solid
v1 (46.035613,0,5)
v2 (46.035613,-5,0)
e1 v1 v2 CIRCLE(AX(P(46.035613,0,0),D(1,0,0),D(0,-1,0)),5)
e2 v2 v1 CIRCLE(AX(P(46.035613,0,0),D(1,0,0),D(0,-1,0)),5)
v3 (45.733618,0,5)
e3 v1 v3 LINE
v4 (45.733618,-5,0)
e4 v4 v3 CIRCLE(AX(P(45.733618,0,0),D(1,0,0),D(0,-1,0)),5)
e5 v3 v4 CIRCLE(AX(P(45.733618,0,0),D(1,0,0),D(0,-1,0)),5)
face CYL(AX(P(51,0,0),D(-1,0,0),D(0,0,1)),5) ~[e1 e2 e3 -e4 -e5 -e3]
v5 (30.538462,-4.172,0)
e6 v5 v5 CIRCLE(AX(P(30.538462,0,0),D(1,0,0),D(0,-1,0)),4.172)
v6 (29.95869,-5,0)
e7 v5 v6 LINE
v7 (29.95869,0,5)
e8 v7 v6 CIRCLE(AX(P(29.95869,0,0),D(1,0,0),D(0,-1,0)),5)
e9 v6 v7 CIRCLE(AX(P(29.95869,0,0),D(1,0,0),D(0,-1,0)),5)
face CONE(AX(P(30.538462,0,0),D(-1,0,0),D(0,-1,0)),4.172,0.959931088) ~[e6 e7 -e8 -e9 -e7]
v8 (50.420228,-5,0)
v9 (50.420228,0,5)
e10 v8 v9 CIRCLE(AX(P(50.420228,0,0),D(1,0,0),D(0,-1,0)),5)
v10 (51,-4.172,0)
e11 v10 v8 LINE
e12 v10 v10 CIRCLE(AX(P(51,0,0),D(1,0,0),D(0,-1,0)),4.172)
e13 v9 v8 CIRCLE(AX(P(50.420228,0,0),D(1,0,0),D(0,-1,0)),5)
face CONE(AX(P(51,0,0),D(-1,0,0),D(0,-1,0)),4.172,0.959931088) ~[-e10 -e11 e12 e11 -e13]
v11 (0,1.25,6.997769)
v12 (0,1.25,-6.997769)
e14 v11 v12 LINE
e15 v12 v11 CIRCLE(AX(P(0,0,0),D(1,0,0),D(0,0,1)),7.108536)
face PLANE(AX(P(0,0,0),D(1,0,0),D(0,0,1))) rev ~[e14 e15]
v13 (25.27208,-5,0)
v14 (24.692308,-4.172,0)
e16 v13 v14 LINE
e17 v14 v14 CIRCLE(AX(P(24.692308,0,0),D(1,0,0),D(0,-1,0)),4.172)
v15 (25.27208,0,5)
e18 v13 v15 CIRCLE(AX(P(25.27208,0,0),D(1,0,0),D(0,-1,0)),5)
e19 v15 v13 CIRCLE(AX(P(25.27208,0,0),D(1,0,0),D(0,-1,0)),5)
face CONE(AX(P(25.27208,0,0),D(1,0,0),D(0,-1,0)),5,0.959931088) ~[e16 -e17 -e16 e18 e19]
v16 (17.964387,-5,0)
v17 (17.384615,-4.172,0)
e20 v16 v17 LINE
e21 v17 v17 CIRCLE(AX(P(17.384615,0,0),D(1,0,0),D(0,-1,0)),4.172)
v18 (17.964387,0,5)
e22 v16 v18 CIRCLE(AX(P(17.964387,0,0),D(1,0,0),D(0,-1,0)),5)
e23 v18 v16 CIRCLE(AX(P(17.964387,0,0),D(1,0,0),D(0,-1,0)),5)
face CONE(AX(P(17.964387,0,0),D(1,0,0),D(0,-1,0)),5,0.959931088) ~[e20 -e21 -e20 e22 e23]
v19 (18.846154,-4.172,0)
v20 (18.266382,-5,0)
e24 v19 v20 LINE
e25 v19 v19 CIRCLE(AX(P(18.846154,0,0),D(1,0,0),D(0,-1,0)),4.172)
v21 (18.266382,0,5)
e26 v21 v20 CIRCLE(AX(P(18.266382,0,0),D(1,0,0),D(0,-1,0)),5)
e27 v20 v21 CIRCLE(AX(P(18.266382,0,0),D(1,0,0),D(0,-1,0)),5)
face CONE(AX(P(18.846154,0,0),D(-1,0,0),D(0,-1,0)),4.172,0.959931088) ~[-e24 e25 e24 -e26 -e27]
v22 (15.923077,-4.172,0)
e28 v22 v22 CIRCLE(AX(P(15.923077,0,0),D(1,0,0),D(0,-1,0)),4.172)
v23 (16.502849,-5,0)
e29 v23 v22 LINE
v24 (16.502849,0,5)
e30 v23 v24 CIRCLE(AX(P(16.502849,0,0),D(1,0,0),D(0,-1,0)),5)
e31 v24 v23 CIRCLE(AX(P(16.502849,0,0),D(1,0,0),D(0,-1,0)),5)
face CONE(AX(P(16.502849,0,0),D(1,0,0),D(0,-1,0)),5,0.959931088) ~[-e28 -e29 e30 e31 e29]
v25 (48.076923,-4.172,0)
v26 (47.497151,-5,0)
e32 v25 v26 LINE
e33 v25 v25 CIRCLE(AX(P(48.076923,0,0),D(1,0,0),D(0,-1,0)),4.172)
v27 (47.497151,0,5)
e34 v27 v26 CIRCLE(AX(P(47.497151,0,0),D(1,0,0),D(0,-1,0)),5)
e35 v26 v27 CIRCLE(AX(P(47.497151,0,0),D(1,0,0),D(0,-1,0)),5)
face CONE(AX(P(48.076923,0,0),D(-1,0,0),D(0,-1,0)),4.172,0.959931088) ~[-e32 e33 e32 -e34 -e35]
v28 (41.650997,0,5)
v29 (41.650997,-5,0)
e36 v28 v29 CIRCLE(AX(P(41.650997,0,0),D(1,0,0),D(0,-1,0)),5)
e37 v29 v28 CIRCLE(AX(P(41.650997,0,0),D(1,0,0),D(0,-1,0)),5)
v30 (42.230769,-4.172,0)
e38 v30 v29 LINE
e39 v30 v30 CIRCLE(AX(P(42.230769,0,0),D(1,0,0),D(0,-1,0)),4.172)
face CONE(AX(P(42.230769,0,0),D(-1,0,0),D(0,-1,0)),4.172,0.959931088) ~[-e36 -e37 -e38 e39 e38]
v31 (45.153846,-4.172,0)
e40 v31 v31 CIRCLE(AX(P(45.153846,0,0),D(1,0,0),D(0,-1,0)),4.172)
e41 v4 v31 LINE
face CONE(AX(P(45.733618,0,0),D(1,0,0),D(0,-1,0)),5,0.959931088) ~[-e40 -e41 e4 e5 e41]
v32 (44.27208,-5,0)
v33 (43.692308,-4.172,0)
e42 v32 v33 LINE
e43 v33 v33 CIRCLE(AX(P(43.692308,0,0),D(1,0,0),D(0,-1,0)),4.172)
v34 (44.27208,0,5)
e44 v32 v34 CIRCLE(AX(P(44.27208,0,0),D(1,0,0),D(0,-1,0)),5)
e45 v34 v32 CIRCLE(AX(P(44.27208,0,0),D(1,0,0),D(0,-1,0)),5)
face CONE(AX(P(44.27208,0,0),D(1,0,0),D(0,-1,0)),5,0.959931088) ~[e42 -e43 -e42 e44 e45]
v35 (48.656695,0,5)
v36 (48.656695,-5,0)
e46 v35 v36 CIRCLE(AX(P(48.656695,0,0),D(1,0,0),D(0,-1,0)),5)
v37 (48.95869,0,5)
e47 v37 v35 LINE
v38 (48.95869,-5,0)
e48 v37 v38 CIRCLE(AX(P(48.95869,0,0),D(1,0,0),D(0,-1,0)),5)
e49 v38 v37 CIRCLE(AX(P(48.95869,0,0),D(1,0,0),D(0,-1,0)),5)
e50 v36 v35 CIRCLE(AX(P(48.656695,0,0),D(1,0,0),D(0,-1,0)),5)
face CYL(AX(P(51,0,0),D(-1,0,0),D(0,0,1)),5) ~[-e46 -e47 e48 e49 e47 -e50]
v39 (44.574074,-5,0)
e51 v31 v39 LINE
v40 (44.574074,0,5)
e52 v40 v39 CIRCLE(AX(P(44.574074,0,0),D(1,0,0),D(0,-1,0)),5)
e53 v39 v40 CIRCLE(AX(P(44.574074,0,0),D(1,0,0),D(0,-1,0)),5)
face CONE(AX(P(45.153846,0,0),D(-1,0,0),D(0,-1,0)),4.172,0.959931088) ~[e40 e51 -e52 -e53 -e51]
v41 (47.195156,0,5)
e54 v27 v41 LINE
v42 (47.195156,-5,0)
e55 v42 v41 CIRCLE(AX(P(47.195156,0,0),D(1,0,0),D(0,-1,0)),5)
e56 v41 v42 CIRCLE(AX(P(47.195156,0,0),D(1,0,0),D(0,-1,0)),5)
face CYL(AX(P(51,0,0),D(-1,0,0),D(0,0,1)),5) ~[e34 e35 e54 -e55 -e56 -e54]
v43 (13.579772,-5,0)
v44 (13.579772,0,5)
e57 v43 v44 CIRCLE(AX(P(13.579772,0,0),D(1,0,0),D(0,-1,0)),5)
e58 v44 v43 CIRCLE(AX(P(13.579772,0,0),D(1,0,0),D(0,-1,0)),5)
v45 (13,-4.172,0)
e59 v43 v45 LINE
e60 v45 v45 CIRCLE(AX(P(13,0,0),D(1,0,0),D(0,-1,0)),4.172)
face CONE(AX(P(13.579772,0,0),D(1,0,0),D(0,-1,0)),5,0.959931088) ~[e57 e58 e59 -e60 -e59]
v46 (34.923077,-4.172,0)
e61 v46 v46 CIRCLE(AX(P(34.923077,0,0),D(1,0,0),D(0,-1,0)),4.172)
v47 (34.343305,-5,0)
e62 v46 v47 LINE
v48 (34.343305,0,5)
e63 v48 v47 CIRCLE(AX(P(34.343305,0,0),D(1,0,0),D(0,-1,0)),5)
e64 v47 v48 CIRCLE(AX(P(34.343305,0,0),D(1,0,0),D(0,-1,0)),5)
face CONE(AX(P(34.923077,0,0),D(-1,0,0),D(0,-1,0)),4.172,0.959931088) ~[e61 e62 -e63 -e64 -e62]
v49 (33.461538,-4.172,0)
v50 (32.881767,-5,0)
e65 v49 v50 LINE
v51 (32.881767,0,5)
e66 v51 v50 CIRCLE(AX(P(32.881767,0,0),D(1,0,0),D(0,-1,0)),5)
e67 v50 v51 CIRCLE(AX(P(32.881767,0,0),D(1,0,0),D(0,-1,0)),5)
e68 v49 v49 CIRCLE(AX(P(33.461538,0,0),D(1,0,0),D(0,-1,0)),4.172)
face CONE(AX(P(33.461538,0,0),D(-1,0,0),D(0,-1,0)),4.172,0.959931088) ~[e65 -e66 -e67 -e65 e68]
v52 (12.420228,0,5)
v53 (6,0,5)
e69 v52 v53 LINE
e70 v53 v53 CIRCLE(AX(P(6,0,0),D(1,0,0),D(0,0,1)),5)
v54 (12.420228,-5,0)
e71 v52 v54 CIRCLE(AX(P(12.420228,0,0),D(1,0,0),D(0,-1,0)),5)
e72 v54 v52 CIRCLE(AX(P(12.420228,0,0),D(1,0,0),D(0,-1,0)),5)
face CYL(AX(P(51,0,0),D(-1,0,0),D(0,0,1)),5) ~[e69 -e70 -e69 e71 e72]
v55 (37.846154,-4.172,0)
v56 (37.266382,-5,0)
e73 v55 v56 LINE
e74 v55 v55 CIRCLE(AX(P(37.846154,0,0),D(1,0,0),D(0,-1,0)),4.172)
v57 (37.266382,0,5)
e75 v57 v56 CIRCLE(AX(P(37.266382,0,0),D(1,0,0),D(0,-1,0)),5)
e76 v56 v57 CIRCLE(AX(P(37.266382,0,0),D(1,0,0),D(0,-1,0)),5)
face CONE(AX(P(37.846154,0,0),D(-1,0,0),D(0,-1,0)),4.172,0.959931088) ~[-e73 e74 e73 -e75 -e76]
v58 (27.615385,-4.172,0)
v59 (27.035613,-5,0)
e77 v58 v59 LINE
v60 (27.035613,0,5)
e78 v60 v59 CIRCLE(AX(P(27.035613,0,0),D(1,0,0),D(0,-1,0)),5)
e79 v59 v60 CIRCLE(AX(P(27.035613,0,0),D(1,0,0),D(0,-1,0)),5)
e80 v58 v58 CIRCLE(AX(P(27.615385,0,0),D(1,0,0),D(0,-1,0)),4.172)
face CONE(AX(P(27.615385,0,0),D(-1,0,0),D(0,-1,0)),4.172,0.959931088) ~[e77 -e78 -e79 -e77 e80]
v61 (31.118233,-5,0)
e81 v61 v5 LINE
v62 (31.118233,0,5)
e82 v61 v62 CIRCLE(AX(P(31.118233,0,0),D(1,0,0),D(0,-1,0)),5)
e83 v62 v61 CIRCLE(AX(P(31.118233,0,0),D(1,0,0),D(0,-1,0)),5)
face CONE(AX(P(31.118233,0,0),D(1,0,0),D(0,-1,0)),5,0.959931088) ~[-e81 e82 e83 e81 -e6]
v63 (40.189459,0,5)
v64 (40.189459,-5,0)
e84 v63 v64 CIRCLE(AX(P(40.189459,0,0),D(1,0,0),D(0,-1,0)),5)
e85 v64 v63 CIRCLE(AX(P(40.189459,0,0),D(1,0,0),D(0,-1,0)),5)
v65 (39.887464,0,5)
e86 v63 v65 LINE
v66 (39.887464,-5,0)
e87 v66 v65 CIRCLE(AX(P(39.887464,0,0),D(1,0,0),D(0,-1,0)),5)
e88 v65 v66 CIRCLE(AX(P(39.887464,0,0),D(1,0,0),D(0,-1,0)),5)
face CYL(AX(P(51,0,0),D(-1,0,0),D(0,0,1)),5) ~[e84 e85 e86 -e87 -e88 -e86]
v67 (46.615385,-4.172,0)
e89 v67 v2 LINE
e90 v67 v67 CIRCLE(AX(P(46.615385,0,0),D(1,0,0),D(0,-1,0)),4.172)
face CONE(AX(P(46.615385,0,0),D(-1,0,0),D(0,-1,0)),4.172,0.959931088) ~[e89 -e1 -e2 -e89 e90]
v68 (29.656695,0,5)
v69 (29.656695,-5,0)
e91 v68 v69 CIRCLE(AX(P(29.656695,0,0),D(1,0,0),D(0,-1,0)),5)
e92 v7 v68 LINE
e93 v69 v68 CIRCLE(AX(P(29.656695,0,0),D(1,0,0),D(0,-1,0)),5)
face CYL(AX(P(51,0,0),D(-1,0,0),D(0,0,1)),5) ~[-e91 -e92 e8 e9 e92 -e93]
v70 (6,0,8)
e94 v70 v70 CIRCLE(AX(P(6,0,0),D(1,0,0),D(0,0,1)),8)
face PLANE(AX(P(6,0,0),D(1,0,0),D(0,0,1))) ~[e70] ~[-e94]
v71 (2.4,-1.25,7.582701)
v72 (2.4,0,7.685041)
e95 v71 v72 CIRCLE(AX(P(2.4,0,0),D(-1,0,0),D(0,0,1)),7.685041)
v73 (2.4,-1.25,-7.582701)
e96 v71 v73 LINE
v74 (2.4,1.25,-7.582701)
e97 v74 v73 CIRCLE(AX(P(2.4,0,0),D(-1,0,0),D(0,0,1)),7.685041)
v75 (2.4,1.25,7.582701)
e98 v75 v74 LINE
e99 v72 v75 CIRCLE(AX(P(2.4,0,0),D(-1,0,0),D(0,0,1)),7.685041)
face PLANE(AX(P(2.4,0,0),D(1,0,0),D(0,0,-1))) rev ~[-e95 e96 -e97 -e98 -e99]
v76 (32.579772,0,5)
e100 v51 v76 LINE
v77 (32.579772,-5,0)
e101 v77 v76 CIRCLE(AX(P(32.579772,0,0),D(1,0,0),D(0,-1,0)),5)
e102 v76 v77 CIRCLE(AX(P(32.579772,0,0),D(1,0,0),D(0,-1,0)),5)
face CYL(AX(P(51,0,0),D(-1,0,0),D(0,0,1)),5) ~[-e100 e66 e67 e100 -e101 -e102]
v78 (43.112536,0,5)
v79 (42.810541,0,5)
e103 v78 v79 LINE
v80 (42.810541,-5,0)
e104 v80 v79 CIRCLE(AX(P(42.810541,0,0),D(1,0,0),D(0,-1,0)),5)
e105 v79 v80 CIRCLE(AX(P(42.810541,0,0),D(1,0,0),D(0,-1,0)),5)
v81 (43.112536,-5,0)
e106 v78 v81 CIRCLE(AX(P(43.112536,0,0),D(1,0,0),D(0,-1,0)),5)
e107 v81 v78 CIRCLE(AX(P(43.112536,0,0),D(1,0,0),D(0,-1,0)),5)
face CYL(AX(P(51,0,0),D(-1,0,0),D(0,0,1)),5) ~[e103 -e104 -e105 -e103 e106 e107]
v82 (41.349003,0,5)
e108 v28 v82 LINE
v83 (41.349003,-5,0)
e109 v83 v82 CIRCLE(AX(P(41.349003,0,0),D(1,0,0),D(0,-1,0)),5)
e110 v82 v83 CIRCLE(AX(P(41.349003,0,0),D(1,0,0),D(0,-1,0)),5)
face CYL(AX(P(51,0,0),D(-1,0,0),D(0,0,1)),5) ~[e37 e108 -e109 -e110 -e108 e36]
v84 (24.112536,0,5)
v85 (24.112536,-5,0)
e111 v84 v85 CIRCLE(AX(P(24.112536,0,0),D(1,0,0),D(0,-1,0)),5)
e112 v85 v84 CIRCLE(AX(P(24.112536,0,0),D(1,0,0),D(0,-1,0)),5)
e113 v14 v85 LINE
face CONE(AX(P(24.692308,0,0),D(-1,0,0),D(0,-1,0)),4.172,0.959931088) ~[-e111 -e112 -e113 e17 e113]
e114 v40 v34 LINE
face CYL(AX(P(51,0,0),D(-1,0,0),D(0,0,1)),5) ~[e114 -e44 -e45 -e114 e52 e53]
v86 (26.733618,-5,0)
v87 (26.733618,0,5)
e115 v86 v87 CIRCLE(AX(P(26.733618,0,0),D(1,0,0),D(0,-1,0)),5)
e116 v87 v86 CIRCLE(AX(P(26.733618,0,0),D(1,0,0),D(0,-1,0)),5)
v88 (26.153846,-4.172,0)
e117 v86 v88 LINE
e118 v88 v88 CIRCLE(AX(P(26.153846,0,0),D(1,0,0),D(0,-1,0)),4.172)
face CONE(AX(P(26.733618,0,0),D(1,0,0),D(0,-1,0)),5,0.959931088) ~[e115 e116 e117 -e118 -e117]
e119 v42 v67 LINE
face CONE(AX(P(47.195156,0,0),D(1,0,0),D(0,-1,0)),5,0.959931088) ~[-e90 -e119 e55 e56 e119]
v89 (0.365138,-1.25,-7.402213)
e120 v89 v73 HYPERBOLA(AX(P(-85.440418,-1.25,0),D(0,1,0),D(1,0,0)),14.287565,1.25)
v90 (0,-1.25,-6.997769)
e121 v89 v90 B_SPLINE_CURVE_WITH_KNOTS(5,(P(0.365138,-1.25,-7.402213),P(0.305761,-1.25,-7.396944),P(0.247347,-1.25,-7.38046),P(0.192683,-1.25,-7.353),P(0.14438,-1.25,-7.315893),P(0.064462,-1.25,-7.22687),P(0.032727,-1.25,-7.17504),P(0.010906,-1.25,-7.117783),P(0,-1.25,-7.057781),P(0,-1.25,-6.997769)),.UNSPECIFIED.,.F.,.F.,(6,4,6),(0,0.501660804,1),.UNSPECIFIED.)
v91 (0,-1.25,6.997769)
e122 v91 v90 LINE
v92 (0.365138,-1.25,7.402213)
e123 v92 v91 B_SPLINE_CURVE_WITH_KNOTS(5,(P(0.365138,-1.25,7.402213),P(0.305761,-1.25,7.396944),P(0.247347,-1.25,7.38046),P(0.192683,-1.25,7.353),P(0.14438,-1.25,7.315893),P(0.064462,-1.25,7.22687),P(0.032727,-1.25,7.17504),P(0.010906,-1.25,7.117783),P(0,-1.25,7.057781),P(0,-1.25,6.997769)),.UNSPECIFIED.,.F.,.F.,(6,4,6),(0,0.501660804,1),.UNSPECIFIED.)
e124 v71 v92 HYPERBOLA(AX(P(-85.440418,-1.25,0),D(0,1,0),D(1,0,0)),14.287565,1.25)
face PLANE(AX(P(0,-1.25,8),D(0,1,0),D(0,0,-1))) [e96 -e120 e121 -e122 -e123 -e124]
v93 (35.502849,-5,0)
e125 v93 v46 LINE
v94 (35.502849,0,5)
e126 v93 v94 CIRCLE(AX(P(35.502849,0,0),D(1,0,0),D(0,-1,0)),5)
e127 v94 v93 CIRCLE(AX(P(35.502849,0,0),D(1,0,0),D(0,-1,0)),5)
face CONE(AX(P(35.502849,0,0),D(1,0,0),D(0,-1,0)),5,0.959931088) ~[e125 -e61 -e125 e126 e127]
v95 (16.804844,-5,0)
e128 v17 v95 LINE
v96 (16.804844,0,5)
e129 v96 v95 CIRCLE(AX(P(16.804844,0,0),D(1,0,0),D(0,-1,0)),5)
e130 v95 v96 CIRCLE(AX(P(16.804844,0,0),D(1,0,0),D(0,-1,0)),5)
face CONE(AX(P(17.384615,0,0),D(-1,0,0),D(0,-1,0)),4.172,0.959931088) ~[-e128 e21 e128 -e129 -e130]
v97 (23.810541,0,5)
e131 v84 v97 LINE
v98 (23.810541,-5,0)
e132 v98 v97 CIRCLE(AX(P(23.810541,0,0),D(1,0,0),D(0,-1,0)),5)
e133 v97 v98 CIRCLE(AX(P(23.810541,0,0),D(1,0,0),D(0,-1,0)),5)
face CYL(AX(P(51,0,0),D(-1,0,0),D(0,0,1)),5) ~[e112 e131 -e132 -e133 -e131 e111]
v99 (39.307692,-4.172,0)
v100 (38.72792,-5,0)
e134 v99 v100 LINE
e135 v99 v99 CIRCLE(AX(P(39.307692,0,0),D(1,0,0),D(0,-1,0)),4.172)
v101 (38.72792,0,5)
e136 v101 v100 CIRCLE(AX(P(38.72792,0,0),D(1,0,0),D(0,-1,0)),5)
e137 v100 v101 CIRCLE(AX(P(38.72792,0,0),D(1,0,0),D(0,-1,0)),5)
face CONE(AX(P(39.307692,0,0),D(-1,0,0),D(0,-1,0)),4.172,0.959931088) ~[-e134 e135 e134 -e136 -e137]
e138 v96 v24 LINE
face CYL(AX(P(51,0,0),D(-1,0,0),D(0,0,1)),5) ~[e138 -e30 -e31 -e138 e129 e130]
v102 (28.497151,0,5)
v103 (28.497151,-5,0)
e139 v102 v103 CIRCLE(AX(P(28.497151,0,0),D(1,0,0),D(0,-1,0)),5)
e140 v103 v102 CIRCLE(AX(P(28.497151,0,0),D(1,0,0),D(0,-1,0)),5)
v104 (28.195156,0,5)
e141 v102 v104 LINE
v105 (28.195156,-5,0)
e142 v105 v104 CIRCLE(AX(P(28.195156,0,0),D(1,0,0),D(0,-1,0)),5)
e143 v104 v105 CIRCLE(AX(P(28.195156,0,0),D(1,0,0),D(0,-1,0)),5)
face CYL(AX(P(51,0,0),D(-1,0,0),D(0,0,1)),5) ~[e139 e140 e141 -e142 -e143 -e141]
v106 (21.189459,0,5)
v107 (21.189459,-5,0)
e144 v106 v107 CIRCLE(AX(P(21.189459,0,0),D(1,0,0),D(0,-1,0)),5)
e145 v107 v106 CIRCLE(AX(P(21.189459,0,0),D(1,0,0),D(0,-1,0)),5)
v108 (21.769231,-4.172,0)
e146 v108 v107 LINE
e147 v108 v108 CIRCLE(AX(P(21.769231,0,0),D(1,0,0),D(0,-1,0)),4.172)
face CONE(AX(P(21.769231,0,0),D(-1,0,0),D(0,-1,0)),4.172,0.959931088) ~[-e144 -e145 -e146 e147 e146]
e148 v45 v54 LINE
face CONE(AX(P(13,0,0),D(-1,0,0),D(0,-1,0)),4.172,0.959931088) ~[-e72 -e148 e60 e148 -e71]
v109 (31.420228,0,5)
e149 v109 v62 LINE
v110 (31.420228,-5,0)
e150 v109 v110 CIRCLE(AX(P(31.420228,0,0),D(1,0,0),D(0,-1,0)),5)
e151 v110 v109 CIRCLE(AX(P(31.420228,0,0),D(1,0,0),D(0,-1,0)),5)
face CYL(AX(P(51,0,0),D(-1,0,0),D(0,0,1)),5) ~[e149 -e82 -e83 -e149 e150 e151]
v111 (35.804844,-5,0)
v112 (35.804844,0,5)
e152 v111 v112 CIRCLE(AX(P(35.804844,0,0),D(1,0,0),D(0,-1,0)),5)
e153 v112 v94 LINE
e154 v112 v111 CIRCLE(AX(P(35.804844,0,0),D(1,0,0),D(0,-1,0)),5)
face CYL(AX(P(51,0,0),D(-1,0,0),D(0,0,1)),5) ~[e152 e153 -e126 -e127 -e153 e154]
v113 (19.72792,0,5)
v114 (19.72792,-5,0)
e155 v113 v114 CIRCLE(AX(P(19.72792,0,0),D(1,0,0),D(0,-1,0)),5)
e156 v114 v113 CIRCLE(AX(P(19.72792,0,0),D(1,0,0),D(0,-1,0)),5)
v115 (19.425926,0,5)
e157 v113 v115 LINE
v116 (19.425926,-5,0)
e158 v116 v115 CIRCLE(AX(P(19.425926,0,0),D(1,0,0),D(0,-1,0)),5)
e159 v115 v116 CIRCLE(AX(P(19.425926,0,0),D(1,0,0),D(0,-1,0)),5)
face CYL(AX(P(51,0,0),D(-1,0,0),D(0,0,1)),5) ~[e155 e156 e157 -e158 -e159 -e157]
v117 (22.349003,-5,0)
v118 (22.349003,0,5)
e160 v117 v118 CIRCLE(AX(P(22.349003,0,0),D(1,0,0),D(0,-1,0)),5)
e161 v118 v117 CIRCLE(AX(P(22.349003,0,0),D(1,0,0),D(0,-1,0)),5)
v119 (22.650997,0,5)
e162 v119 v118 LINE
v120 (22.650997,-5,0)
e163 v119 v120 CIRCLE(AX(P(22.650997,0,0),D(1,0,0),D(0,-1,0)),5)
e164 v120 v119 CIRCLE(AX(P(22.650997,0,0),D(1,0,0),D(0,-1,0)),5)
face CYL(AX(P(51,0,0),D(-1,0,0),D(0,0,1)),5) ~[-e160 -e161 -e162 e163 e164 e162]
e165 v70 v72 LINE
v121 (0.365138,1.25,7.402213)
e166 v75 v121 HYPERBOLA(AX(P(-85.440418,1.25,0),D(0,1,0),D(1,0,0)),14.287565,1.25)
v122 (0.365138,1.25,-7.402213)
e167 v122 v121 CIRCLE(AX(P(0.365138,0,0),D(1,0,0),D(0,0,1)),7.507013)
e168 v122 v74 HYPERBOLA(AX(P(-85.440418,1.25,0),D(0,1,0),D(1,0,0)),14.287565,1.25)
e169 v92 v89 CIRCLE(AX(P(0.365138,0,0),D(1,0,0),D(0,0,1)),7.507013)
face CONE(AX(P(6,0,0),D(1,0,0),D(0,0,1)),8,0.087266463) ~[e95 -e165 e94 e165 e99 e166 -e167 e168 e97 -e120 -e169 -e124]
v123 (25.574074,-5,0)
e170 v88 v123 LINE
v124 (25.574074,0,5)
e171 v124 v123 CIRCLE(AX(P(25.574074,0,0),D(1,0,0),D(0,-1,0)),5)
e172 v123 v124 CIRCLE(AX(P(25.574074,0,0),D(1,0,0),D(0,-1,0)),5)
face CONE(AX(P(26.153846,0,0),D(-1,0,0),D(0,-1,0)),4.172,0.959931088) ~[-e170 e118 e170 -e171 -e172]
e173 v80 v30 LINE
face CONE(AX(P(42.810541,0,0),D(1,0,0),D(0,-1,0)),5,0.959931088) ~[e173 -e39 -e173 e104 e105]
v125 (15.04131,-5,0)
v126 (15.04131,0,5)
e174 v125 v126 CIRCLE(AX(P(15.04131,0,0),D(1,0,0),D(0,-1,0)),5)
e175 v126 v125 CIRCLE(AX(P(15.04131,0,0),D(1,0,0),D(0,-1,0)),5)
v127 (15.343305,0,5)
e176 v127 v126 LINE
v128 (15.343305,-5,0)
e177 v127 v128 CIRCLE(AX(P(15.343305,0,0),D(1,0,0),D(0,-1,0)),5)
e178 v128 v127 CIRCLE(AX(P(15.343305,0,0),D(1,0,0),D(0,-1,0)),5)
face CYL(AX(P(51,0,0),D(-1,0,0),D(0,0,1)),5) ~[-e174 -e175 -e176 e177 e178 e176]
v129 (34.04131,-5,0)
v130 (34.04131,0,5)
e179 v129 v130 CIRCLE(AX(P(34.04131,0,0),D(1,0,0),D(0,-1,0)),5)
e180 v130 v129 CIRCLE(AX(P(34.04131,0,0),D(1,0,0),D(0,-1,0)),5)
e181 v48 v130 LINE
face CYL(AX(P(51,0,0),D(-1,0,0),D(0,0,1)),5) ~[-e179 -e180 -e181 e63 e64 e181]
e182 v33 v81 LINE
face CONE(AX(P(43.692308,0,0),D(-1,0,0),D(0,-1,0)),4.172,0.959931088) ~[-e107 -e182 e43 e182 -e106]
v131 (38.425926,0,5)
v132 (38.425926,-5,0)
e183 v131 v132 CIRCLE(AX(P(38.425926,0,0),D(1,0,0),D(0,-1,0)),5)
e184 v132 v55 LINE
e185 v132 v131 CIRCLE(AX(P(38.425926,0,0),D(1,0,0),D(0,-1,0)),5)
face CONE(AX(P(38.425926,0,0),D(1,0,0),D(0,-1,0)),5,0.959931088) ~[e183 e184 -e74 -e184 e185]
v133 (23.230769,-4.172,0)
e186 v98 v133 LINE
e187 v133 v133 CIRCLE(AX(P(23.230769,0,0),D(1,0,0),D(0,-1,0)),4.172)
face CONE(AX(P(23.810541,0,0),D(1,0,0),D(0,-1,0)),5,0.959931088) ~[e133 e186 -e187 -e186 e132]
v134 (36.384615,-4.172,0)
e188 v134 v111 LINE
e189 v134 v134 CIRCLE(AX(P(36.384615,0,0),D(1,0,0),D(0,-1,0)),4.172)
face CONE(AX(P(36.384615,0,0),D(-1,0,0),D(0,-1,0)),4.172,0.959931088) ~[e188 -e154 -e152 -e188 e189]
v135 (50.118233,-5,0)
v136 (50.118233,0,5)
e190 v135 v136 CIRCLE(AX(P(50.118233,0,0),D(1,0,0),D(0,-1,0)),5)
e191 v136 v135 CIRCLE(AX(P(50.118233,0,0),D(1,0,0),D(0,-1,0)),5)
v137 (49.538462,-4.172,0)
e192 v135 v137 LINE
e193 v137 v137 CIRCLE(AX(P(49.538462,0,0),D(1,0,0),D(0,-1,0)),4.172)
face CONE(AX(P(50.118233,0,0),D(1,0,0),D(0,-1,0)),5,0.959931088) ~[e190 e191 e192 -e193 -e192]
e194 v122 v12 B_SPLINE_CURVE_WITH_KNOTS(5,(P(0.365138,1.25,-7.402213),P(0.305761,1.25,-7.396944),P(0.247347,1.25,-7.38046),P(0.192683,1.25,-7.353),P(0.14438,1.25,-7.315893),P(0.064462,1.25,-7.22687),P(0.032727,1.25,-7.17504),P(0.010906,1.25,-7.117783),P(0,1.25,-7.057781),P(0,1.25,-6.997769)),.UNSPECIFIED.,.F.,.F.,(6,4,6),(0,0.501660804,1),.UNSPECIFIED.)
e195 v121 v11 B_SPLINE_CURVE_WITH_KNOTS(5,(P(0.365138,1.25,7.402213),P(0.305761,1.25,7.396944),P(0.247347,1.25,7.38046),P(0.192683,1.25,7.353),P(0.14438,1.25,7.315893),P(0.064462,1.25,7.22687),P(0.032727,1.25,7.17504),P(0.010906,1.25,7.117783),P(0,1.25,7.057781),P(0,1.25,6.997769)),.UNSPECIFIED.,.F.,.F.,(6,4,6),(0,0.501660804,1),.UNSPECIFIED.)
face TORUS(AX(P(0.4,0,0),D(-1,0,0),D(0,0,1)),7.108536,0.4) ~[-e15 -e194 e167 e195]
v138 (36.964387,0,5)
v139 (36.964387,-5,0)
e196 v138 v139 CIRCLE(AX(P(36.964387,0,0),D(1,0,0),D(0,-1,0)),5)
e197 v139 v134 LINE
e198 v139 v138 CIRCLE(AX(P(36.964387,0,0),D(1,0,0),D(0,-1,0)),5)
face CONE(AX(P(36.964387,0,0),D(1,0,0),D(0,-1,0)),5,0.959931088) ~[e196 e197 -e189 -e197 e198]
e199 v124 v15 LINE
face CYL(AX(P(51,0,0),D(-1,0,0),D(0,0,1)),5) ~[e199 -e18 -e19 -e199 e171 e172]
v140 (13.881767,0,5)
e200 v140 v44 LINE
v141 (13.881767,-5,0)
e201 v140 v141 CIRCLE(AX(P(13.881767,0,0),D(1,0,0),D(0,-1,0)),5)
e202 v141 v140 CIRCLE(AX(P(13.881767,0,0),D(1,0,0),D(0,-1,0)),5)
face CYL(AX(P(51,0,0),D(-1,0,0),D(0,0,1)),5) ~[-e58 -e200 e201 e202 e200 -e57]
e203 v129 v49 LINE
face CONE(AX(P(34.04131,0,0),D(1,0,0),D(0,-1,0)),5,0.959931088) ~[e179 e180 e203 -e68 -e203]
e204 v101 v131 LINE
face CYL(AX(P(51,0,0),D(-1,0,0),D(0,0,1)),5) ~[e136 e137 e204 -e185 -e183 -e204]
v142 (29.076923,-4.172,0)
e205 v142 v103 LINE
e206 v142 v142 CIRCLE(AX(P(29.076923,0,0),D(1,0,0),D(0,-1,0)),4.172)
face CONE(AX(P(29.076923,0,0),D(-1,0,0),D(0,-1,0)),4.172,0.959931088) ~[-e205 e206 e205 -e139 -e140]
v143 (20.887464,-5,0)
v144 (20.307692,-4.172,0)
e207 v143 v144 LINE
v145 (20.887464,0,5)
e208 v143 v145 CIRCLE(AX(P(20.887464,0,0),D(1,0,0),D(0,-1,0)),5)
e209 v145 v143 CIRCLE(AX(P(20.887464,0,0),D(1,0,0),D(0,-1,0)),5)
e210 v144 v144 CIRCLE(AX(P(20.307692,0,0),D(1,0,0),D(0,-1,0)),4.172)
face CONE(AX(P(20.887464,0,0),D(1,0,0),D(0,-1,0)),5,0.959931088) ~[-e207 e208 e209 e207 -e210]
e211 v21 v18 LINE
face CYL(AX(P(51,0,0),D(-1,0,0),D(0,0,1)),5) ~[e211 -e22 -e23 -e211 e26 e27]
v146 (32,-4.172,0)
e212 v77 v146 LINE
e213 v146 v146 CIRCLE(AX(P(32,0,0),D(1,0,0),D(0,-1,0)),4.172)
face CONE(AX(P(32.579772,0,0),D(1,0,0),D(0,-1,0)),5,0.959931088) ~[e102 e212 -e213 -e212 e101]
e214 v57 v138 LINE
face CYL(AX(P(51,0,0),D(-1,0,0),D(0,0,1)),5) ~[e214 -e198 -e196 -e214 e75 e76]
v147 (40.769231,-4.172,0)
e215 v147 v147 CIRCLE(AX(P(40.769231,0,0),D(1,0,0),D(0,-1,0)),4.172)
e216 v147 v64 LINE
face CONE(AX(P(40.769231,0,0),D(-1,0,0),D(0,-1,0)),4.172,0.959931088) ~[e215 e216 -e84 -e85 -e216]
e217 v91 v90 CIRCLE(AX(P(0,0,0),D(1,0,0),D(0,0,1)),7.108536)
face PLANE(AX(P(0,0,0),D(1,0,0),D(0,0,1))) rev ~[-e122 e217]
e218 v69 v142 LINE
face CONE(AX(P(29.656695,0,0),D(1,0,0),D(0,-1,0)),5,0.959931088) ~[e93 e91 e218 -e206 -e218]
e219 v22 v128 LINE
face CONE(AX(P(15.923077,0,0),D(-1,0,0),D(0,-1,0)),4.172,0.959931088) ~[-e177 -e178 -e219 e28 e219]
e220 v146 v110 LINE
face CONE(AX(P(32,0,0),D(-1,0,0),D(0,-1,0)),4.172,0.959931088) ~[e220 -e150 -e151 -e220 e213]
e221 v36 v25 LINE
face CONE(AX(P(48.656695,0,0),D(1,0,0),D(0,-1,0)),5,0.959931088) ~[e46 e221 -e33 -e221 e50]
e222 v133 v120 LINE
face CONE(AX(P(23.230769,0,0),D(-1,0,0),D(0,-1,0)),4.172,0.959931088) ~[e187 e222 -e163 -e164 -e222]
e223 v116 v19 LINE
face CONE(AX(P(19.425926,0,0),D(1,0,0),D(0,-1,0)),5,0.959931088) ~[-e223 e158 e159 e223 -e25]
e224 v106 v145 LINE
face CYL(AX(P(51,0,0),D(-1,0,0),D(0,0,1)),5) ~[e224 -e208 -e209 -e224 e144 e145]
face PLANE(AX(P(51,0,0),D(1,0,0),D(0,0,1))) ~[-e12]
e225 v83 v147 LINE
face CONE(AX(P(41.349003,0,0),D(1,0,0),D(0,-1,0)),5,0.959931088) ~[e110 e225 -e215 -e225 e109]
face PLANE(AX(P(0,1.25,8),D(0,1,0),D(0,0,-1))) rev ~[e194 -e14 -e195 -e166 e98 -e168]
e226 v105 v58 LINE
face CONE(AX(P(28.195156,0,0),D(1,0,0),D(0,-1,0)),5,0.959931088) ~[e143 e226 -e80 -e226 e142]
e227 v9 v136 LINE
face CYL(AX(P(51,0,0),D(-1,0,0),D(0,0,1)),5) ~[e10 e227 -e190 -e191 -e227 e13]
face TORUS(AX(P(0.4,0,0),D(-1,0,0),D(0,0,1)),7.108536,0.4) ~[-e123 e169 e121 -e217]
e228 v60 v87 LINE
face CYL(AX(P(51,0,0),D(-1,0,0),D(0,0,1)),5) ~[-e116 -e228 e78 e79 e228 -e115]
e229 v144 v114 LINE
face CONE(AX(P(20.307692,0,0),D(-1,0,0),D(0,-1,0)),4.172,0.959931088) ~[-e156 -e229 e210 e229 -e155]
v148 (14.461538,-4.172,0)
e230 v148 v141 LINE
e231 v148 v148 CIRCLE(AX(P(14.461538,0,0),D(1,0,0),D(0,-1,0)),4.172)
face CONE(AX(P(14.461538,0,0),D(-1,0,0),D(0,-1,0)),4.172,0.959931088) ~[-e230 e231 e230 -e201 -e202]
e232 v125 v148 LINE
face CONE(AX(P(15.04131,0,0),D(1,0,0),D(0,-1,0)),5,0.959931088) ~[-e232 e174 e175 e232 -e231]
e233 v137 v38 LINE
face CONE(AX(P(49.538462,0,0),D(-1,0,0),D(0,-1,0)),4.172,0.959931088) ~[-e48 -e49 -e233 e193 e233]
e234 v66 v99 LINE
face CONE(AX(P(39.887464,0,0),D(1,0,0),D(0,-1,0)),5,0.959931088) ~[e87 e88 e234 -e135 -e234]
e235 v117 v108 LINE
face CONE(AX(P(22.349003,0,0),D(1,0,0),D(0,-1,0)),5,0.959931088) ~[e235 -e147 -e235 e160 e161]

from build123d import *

# Parameters (mm, degrees)
FILLET2_R       = 0.4
SKETCH2_W       = 16
SKETCH2_H       = 2.5
SLOT_DEPTH      = 2.4
THDSCHPAT_COUNT = 27
THDSCHPAT_PITCH = 1.461538462


with BuildPart() as part:
    # BodySke → Base-Revolve (revolve)
    with BuildSketch(Plane.XY, mode=Mode.PRIVATE) as base_revolve_sk:
        Polygon((6, 5), (6, 8), (0, 7.475068019), (0, 0), (51, 0), (51, 5), align=None)
    revolve(base_revolve_sk.sketch.rotate(Axis((-25.4, 0, 0), (1, 0, 0)), 90), axis=Axis((-25.4, 0, 0), (1, 0, 0)))

    # Fillet2
    fillet2_edges = [part.edges().sort_by_distance(p)[0] for p in [
        (0, 0, -7.475068019),
    ]]
    fillet(fillet2_edges, radius=FILLET2_R)

    # Sketch2 → Slot (cut)
    with BuildSketch(Plane(origin=(0, 0, 0), x_dir=(0, 0, -1), z_dir=(1, 0, 0))):
        Rectangle(SKETCH2_W, SKETCH2_H)
    extrude(amount=SLOT_DEPTH, mode=Mode.SUBTRACT)

    # ThdSchSke → ThreadSchematic (revolve, cut)
    with BuildSketch(Plane.XY):
        Polygon((13, -4.172), (12.420228158, -5), (12.420228158, -6.25), (13.579771842, -6.25), (13.579771842, -5), align=None)
    threadschematic = revolve(axis=Axis((-3.175, 0, 0), (1, 0, 0)), mode=Mode.SUBTRACT)

    # ThdSchPat: ThreadSchematic ×27
    with Locations(*[(i * THDSCHPAT_PITCH, 0, 0) for i in range(1, THDSCHPAT_COUNT)]):
        add(threadschematic, mode=Mode.SUBTRACT)


solid = part.part
